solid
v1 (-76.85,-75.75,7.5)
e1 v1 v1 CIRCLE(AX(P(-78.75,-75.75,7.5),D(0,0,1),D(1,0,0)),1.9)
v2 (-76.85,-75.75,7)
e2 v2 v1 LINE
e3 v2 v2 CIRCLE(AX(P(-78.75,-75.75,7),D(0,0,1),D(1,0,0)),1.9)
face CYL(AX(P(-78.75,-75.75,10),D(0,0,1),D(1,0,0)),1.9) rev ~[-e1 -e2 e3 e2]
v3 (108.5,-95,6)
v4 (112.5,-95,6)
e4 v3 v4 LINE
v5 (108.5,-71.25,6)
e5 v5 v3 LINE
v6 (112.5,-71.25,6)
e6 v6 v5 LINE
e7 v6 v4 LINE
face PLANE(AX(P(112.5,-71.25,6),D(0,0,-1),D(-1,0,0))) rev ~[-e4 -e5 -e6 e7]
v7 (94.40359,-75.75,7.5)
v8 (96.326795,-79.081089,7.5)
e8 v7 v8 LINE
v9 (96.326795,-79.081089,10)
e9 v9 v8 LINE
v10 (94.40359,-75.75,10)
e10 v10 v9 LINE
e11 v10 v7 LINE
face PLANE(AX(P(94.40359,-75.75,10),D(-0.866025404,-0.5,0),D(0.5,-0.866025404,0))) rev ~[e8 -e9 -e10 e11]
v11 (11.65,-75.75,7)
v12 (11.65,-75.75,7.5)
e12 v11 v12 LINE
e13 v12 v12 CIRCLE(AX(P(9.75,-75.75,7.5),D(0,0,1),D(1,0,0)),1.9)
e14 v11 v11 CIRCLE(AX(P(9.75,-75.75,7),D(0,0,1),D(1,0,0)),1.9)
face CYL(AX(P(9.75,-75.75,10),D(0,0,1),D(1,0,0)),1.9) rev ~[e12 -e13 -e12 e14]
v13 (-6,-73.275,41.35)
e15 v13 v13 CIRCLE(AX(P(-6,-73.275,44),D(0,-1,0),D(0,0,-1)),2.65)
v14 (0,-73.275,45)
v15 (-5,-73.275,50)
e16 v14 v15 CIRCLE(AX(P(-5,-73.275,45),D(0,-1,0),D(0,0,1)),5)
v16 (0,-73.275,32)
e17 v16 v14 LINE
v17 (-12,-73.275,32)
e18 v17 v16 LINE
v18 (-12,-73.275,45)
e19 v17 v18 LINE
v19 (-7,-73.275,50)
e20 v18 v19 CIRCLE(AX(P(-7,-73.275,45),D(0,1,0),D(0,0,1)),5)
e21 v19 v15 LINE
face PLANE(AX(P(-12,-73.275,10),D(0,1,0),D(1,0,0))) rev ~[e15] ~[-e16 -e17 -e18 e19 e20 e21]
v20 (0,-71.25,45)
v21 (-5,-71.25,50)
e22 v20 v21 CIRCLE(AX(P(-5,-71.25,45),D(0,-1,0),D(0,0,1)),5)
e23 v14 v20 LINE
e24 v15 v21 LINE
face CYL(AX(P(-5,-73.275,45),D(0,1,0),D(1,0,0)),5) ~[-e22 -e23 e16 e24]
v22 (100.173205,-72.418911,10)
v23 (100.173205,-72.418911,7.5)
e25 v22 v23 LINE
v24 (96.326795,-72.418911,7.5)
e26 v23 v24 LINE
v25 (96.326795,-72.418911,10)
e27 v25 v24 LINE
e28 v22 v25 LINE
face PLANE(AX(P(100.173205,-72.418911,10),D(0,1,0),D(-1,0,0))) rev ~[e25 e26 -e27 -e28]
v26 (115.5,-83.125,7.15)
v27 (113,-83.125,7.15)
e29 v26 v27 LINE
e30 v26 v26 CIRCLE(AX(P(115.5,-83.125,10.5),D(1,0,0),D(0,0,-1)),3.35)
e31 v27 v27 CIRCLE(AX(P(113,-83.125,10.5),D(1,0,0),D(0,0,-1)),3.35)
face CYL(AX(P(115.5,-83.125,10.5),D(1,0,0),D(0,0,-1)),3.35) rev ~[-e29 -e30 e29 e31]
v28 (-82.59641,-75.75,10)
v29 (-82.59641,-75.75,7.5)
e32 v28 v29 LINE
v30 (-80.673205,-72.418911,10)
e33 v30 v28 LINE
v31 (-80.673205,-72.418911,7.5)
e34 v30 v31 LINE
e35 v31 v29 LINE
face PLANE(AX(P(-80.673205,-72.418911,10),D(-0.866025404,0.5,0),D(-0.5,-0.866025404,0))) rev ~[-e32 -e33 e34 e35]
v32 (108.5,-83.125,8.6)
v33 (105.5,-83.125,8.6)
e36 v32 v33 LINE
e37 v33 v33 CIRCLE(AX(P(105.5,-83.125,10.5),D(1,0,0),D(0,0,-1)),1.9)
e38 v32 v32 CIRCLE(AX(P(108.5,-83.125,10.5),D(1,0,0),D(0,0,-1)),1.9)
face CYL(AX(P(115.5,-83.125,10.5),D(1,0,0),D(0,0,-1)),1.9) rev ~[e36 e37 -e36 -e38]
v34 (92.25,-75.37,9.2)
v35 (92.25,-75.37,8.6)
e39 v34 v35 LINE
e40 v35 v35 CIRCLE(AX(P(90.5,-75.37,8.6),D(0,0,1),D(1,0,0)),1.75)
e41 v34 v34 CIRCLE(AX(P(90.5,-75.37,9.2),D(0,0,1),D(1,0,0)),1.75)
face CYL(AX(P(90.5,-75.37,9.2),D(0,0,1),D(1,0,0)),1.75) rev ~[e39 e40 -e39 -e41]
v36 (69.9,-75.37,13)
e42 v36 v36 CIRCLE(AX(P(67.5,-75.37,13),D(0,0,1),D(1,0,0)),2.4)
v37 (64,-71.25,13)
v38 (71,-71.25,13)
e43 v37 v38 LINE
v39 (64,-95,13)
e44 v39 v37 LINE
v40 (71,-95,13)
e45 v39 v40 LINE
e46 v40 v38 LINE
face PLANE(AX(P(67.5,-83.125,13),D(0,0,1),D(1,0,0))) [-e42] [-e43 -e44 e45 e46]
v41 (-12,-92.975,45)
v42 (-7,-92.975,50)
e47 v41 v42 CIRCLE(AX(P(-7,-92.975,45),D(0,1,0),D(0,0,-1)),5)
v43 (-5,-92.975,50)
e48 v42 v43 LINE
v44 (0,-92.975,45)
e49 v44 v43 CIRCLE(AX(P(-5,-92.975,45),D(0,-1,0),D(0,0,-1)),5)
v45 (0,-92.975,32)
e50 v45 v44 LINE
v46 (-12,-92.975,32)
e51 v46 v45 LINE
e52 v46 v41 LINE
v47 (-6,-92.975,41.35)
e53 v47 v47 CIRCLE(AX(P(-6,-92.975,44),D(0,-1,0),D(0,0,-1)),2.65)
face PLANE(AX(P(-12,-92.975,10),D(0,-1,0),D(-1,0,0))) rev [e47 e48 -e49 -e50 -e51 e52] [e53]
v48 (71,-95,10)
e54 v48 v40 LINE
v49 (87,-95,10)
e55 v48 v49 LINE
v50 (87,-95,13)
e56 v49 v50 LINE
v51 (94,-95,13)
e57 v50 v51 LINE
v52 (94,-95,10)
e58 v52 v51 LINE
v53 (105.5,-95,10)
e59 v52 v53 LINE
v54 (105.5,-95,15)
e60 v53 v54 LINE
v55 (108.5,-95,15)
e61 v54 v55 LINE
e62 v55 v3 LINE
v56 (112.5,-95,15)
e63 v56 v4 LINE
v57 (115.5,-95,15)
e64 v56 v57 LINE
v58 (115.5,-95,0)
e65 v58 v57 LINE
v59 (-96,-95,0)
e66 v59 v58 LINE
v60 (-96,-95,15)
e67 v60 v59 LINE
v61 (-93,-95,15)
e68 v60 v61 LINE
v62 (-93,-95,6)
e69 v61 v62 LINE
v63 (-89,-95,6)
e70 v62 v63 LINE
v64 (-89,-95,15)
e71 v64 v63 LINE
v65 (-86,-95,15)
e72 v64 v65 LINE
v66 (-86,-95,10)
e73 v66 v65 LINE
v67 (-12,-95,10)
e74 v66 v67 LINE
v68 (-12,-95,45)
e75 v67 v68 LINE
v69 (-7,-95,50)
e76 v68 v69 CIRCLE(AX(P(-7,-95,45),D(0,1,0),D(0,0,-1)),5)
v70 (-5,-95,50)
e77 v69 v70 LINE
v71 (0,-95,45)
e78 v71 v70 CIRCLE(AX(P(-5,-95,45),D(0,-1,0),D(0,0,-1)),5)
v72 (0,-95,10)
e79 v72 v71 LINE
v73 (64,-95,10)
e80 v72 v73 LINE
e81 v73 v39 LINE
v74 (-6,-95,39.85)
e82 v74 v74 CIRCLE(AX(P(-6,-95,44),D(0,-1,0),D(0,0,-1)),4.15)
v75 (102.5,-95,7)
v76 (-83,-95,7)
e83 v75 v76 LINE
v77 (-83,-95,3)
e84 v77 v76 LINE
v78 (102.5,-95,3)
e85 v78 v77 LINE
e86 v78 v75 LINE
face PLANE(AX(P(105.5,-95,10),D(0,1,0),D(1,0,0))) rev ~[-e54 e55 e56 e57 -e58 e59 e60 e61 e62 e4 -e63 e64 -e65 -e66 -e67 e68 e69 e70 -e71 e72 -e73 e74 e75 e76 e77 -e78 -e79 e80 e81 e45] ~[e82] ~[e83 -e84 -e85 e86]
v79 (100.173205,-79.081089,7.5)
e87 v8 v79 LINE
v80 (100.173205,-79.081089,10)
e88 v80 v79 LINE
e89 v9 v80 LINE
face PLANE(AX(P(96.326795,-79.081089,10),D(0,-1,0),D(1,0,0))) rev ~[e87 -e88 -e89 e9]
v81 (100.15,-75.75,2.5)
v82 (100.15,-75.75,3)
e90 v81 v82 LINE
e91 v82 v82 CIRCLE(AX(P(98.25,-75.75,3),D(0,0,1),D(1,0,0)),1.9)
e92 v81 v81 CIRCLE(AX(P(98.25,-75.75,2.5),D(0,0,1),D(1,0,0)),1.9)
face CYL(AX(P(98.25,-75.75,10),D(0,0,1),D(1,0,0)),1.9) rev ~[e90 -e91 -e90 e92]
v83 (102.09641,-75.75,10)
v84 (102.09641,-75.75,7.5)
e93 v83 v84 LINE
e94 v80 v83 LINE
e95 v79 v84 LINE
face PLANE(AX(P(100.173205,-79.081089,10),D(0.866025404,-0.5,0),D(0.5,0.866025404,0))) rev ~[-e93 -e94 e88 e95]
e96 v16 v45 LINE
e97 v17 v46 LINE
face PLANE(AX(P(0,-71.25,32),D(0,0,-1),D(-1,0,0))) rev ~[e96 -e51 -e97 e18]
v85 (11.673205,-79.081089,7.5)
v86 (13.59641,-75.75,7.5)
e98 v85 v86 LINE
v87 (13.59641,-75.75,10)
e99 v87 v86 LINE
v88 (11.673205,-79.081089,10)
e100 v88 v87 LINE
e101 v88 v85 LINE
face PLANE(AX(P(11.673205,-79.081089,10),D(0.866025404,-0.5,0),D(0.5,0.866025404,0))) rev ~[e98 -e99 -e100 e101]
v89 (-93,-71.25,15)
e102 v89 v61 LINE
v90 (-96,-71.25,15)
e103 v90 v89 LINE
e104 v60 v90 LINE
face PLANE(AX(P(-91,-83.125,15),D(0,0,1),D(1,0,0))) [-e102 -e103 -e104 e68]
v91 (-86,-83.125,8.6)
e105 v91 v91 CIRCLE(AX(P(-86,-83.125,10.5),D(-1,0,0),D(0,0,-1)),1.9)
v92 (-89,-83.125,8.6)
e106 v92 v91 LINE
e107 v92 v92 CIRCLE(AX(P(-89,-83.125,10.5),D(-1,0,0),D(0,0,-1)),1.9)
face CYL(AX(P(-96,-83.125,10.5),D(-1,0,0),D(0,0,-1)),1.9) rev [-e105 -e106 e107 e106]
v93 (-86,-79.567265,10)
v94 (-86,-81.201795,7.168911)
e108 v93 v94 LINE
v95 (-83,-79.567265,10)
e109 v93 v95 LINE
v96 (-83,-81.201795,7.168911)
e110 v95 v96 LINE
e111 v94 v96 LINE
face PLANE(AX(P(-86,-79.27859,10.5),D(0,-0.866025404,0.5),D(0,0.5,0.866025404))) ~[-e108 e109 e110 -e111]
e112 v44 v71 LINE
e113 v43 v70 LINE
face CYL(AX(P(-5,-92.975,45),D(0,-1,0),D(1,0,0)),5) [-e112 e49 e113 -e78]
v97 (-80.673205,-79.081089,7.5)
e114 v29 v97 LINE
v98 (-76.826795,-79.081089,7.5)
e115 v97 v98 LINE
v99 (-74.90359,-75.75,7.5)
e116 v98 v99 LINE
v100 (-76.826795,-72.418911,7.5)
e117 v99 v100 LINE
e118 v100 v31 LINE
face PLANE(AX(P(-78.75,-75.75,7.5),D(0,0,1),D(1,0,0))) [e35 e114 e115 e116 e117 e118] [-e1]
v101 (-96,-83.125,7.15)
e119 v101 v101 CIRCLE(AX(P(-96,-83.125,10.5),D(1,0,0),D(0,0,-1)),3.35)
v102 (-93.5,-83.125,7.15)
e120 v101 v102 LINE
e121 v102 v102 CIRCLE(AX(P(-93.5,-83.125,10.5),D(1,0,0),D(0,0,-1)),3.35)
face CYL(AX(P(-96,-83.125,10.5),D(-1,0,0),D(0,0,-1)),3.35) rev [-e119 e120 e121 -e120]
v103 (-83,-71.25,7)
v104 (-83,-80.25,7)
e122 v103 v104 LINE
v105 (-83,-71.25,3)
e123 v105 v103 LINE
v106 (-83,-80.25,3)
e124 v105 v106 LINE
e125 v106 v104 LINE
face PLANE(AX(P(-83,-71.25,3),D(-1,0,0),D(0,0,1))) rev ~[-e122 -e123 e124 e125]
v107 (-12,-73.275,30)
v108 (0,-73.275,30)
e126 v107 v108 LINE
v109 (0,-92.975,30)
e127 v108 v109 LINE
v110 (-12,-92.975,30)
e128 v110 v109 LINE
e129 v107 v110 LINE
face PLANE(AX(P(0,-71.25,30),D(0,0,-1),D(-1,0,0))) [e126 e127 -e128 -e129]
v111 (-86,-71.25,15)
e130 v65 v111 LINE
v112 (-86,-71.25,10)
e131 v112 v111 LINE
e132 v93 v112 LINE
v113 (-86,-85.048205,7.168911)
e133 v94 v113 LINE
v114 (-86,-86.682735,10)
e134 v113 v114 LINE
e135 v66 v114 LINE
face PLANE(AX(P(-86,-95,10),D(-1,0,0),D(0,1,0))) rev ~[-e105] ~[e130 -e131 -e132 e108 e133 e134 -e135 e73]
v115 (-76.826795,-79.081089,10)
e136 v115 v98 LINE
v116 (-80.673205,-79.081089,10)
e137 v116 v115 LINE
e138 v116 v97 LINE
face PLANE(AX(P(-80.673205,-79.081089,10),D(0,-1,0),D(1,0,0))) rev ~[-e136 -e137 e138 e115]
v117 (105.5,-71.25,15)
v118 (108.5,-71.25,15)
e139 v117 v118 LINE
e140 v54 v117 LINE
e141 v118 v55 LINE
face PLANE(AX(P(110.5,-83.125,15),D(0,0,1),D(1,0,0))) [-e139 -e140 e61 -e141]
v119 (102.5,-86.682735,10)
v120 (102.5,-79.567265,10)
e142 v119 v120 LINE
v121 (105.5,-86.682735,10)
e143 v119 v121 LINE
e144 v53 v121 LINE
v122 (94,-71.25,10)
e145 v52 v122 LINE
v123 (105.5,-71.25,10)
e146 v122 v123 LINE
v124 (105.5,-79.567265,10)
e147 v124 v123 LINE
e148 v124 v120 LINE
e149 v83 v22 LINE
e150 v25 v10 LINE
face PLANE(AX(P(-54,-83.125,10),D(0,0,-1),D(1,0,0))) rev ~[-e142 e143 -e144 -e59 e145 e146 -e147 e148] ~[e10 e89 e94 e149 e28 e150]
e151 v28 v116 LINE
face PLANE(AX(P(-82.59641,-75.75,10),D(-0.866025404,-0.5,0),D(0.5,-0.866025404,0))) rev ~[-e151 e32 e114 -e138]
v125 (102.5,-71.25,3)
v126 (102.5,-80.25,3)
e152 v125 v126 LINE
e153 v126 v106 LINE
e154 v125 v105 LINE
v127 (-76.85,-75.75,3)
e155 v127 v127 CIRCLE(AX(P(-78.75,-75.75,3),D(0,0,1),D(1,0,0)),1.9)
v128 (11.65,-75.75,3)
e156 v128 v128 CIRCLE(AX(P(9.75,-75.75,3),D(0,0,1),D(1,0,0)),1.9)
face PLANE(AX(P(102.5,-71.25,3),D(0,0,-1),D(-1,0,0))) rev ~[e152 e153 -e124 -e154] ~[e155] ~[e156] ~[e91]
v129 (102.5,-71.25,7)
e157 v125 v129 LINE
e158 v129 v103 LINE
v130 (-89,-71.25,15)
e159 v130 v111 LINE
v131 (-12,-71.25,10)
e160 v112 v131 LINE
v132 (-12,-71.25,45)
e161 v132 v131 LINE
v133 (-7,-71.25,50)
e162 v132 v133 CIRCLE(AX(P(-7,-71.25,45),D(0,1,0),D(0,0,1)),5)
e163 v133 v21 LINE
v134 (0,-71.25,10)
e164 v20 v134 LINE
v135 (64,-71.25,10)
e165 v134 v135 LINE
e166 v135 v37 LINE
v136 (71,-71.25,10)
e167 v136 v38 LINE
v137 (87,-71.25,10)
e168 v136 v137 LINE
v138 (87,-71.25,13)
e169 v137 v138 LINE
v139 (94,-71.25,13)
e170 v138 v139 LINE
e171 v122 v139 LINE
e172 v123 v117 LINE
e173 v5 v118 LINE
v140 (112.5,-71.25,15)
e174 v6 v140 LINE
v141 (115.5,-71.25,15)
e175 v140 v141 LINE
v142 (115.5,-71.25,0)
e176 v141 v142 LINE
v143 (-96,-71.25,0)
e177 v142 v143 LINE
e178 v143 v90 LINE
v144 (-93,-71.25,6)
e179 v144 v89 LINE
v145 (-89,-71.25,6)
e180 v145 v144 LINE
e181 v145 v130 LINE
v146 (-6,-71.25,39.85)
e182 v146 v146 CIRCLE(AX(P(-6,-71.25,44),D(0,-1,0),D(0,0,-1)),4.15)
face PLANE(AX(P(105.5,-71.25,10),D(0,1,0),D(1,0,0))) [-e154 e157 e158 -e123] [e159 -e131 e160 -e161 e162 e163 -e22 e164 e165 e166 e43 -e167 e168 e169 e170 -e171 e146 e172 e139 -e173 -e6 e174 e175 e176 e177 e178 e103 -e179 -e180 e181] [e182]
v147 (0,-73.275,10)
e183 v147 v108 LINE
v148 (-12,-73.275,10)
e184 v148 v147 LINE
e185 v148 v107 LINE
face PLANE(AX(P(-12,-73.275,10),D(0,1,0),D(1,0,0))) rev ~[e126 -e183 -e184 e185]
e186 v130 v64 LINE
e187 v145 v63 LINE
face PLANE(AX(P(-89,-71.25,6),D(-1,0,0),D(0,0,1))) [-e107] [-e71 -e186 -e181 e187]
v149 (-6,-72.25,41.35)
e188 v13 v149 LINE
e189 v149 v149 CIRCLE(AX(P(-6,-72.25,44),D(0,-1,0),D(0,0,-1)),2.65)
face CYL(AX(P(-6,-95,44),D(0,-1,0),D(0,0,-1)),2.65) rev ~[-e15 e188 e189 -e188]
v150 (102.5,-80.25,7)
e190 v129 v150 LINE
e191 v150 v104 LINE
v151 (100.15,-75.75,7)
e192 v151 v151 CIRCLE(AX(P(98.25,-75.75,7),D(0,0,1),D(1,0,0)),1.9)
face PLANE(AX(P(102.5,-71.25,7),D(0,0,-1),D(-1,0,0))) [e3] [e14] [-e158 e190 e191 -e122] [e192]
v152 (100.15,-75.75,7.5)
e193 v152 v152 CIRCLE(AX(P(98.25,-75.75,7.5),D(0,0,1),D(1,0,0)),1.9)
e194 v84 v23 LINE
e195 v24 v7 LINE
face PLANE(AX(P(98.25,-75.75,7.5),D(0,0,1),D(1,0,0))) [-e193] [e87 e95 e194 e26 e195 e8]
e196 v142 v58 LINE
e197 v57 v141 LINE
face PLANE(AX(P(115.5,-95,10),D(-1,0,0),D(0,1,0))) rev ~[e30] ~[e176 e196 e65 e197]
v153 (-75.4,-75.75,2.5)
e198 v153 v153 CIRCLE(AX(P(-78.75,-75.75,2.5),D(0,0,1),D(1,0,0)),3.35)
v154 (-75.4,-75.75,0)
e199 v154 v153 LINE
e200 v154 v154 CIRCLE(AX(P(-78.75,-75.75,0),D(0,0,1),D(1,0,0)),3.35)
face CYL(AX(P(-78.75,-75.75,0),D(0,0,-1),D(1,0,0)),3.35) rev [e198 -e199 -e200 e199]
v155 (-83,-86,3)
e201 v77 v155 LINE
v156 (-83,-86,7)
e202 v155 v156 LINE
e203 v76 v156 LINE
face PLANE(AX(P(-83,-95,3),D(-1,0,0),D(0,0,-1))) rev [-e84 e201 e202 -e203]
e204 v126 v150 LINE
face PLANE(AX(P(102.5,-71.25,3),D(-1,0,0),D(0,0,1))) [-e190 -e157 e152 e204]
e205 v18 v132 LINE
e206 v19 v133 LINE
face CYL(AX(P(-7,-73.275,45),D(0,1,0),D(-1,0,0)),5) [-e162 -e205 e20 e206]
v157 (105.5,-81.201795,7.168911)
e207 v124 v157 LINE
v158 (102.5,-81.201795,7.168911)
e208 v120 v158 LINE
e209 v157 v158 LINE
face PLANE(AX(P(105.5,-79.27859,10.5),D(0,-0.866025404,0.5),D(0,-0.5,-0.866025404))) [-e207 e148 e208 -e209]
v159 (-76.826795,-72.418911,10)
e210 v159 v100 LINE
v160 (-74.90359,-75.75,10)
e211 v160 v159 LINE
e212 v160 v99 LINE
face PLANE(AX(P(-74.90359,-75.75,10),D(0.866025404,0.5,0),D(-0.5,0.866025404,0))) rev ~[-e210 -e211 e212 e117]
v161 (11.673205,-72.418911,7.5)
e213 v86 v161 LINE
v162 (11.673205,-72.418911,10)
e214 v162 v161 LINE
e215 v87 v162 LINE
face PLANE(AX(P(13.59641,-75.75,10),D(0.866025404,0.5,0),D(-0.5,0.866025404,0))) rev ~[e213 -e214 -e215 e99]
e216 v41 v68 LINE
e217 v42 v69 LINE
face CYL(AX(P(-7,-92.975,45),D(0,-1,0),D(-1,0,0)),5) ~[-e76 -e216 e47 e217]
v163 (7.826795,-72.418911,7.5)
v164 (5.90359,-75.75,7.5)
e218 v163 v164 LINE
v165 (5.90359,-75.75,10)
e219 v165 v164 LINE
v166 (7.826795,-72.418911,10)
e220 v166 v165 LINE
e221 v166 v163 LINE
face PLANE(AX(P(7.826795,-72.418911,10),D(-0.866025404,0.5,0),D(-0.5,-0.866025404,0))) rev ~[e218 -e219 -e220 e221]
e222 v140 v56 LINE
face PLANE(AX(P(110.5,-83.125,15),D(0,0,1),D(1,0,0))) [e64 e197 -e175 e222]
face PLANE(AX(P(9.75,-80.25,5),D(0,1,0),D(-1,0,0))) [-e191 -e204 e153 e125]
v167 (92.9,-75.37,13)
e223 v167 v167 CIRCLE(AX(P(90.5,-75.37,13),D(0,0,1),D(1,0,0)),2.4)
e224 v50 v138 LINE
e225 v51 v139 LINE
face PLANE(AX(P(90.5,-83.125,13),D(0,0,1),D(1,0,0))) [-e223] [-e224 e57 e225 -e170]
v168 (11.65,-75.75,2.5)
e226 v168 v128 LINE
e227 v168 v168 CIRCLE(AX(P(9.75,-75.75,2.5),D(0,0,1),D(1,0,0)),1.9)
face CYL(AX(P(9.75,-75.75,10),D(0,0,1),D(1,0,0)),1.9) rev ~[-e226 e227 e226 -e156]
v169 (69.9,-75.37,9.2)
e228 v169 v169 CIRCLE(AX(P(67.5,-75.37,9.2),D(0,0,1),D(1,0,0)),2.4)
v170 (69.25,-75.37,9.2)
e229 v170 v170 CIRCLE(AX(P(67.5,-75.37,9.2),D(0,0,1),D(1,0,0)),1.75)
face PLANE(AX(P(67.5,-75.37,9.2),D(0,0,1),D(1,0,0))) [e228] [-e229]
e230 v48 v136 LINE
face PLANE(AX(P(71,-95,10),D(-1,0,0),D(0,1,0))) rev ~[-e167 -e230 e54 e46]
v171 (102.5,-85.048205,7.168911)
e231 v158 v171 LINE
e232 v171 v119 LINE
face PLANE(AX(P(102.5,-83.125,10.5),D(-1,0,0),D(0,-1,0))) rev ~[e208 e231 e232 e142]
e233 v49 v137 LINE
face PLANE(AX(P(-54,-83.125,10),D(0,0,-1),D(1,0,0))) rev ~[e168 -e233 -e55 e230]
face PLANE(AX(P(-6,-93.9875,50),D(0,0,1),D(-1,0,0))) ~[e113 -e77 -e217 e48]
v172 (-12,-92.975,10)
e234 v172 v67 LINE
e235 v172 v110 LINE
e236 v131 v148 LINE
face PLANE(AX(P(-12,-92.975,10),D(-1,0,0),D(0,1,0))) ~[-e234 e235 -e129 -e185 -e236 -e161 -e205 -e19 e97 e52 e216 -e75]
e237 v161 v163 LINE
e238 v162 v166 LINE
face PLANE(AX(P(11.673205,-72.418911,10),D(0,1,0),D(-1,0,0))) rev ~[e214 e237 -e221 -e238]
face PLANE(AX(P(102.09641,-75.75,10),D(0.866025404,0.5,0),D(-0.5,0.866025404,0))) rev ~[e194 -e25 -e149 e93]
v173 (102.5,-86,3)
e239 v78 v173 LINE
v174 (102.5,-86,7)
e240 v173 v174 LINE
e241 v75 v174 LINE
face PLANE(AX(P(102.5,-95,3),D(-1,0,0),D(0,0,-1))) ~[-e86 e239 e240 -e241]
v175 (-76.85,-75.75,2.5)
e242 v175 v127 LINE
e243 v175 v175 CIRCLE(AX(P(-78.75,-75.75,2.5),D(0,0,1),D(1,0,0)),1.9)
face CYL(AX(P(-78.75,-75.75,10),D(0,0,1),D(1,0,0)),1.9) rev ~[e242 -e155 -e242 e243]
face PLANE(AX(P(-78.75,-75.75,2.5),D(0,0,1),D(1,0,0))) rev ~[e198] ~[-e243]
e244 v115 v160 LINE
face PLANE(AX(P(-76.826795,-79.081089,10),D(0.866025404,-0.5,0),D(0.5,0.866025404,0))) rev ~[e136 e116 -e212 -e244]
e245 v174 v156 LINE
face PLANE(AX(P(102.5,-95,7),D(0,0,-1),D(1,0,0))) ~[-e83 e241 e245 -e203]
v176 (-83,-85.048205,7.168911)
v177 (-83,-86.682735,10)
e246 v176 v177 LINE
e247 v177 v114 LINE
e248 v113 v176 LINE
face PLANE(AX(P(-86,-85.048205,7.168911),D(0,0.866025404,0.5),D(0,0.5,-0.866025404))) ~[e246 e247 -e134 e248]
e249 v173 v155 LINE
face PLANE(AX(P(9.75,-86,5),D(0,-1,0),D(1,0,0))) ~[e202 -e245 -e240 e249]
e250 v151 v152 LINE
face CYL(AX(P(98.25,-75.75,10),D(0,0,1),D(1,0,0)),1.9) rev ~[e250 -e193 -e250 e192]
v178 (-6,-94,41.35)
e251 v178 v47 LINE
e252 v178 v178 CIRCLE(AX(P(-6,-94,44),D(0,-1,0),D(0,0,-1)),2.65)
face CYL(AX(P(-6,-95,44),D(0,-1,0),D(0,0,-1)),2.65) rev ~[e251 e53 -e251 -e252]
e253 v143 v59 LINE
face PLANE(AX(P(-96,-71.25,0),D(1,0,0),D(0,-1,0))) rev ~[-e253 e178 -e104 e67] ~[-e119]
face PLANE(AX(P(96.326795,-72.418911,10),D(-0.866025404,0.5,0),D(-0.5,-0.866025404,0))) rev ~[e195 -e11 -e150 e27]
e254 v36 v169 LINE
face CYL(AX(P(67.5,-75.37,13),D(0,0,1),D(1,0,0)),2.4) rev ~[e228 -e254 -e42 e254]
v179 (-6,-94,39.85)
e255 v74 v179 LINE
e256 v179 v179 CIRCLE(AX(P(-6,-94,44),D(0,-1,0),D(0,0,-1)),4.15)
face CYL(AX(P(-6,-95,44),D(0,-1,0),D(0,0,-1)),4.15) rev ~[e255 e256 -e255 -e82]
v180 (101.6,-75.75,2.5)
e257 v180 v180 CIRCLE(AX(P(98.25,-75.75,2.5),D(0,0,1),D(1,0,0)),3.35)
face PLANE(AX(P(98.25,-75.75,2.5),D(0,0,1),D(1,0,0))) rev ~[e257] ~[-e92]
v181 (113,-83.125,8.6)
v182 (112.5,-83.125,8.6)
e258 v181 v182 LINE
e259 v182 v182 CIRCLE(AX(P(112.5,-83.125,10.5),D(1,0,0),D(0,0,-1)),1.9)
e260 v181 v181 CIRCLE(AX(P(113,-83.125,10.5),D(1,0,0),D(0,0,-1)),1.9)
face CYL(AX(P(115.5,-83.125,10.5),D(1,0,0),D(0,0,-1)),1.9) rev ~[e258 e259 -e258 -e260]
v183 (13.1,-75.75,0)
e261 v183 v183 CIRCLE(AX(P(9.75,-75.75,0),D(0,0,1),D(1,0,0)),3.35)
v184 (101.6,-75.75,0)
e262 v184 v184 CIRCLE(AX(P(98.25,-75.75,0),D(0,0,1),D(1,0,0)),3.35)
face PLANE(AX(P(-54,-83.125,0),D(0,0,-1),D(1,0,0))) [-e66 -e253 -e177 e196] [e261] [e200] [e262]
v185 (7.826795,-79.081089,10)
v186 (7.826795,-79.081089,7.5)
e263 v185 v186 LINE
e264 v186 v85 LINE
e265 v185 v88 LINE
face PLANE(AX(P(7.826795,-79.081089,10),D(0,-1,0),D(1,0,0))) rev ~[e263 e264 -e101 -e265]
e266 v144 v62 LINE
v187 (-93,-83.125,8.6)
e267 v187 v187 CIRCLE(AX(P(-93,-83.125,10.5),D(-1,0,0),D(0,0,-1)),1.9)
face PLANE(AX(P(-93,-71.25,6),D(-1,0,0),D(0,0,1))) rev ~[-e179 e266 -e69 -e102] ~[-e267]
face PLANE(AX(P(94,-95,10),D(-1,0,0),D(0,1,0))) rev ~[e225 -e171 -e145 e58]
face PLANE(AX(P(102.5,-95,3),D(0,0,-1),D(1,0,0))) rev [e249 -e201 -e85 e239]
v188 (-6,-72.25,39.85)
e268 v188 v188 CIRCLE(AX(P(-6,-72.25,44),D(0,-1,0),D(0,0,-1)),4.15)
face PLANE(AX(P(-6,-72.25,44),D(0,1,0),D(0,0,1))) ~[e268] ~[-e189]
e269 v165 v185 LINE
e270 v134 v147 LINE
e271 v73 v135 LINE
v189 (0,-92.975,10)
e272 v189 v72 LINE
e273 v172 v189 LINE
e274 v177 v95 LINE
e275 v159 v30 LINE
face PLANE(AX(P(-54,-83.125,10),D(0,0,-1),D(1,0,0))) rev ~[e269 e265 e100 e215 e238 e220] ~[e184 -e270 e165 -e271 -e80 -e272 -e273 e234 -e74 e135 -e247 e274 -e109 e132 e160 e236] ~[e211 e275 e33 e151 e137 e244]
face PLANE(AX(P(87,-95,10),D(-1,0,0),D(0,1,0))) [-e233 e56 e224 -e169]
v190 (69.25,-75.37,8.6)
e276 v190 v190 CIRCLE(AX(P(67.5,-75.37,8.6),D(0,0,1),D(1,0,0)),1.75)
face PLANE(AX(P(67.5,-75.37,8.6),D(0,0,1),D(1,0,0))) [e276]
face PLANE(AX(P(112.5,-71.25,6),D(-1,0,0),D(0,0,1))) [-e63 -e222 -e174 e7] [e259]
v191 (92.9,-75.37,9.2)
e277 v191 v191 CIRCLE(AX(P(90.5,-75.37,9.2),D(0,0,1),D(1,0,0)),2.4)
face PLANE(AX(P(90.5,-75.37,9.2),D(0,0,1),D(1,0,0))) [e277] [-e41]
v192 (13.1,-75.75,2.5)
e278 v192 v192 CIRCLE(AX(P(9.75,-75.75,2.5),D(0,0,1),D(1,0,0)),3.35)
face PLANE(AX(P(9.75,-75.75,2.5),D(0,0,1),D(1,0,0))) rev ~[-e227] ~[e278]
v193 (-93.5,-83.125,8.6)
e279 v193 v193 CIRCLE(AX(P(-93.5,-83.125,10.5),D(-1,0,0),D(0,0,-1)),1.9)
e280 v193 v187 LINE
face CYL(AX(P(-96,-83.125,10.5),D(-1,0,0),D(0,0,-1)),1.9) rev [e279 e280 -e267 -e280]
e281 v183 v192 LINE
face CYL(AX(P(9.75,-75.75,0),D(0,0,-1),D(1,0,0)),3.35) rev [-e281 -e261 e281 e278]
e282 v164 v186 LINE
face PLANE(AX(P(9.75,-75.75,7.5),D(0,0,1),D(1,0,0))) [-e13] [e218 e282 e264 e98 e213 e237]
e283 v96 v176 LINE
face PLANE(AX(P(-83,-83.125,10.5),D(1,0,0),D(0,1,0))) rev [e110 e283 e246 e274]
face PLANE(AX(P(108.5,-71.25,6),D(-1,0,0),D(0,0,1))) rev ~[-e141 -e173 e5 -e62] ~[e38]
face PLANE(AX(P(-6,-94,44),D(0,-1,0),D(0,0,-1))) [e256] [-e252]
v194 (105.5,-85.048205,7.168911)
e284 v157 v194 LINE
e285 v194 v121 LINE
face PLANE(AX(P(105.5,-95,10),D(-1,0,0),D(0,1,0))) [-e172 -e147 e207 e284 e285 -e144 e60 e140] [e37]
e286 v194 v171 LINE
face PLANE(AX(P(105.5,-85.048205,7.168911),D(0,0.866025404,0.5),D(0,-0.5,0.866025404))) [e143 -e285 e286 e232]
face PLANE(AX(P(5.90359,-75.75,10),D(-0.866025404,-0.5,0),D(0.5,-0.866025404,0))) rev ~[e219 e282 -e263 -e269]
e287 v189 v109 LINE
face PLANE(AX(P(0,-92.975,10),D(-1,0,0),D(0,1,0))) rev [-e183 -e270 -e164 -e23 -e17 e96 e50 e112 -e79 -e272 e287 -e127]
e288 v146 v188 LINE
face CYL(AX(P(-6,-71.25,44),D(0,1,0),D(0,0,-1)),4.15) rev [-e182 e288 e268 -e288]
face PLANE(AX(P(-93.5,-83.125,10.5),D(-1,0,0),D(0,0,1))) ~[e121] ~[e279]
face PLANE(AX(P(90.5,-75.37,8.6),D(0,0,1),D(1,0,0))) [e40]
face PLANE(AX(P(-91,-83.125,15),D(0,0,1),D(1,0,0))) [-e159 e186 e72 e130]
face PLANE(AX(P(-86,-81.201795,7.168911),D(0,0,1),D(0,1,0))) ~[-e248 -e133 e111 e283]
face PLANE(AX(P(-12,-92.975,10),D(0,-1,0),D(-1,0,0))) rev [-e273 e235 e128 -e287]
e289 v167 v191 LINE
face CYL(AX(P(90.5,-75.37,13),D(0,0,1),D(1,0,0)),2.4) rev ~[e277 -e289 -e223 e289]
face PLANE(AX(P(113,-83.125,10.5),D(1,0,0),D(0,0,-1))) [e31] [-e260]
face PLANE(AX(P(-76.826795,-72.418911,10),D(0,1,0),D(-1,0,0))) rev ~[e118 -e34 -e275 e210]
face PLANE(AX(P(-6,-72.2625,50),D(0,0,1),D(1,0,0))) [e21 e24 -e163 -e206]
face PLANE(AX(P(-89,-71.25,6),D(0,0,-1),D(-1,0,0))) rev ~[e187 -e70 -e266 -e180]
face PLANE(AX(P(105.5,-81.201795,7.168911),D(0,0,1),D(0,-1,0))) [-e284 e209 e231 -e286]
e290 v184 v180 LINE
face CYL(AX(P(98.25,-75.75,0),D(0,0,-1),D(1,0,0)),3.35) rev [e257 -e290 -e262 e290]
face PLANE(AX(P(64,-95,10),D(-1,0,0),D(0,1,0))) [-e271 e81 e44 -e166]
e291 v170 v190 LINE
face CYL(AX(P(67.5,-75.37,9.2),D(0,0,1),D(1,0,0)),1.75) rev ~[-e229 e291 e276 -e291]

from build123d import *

# Parameters (mm, degrees)
SKETCH2_W            = 23.75
SKETCH2_H            = 12
BOSS_EXTRUDE1_DEPTH  = 10
SKETCH3_W            = 12
SKETCH3_H            = 2.025
BOSS_EXTRUDE2_DEPTH  = 40
FILLET1_R            = 5
FILLET1_OF_MIRROR1_R = 5
SKETCH5_R            = 2.65
CUT_EXTRUDE1_DEPTH   = 57.639760769
SKETCH6_R            = 4.15
CUT_EXTRUDE2_DEPTH   = 1
SKETCH7_W            = 84
SKETCH7_H            = 23.75
SKETCH7_W_2          = 115.5
BOSS_EXTRUDE3_DEPTH  = 10
SKETCH8_W            = 10
SKETCH8_H            = 23.75
BOSS_EXTRUDE4_DEPTH  = 5
BOSS_EXTRUDE7_REACH  = 130.079
SKETCH18_W           = 12
SKETCH18_H           = 2
SKETCH11_W           = 185.5
SKETCH11_H           = 4
CUT_EXTRUDE3_DEPTH   = 9
SKETCH12_R           = 1.9
CUT_EXTRUDE4_DEPTH   = 155.807138078
SKETCH15_R           = 3.35
CUT_EXTRUDE5_DEPTH   = 2.5
SKETCH16_R           = 1.9
CUT_EXTRUDE6_DEPTH   = 2.5
LPATTERN1_COUNT      = 3
LPATTERN1_PITCH      = 88.5
SKETCH14_W           = 7
SKETCH14_H           = 23.75
BOSS_EXTRUDE6_DEPTH  = 3
CUT_EXTRUDE7_REACH   = 130.079
SKETCH21_W           = 4
SKETCH21_H           = 9
LPATTERN2_COUNT      = 2
LPATTERN2_PITCH      = 201.5
SKETCH22_R           = 2.4
CUT_EXTRUDE8_DEPTH   = 3.8
SKETCH26_R           = 1.75
CUT_EXTRUDE12_DEPTH  = 0.6
LPATTERN3_COUNT      = 2
LPATTERN3_PITCH      = 23
SKETCH23_R           = 1.9
CUT_EXTRUDE9_DEPTH   = 10
SKETCH24_R           = 3.35
CUT_EXTRUDE10_DEPTH  = 2.5
CUT_EXTRUDE11_DEPTH  = 3


with BuildPart() as part:
    # Sketch2 → Boss-Extrude1 (new body)
    with BuildSketch(Plane(origin=(0, 0, 0), x_dir=(0, 1, 0), z_dir=(0, 0, 1))):
        with Locations((-83.125, 6)):
            Rectangle(SKETCH2_W, SKETCH2_H)
    extrude(amount=BOSS_EXTRUDE1_DEPTH)

    # Sketch3 → Boss-Extrude2 (add)
    with BuildSketch(Plane.XY.offset(10)):
        with Locations((-6, -72.2625)):
            Rectangle(SKETCH3_W, SKETCH3_H)
    boss_extrude2 = extrude(amount=BOSS_EXTRUDE2_DEPTH)

    # Fillet1
    fillet1_edges = [part.edges().sort_by_distance(p)[0] for p in [
        (0, -72.2625, 50),
        (-12, -72.2625, 50),
    ]]
    fillet(fillet1_edges, radius=FILLET1_R)

    # Mirror1: Boss-Extrude2 across plane
    add(boss_extrude2.mirror(Plane.ZX.offset(-83.125)))

    # Fillet1 of Mirror1
    fillet1_of_mirror1_edges = [part.edges().sort_by_distance(p)[0] for p in [
        (0, -93.9875, 50),
        (-12, -93.9875, 50),
    ]]
    fillet(fillet1_of_mirror1_edges, radius=FILLET1_OF_MIRROR1_R)

    # Sketch5 → Cut-Extrude1 (cut, through all)
    with BuildSketch(Plane.XZ.offset(95)):
        with Locations((-6, 44)):
            Circle(SKETCH5_R)
    extrude(amount=-CUT_EXTRUDE1_DEPTH, mode=Mode.SUBTRACT)

    # Sketch6 → Cut-Extrude2 (cut)
    with BuildSketch(Plane.XZ.offset(95)):
        with Locations((-6, 44)):
            Circle(SKETCH6_R)
    cut_extrude2 = extrude(amount=-CUT_EXTRUDE2_DEPTH, mode=Mode.SUBTRACT)

    # Mirror2: Cut-Extrude2 across plane
    add(cut_extrude2.mirror(Plane.ZX.offset(-83.125)), mode=Mode.SUBTRACT)

    # Sketch7 → Boss-Extrude3 (add)
    with BuildSketch(Plane(origin=(0, 0, 0), x_dir=(1, 0, 0), z_dir=(0, 0, -1))):
        with Locations((-54, 83.125)):
            Rectangle(SKETCH7_W, SKETCH7_H)
        with Locations((57.75, 83.125)):
            Rectangle(SKETCH7_W_2, SKETCH7_H)
    extrude(amount=-BOSS_EXTRUDE3_DEPTH)

    # Sketch8 → Boss-Extrude4 (add)
    with BuildSketch(Plane.XY.offset(10)):
        with Locations((110.5, -83.125)):
            Rectangle(SKETCH8_W, SKETCH8_H)
        with Locations((-91, -83.125)):
            Rectangle(SKETCH8_W, SKETCH8_H)
    extrude(amount=BOSS_EXTRUDE4_DEPTH)

    # Sketch18 → Boss-Extrude7 (add, up to next)
    with BuildSketch(Plane(origin=(0, -71.25, 0), x_dir=(-1, 0, 0), z_dir=(0, 1, 0)), mode=Mode.PRIVATE) as boss_extrude7_sk1:
        with Locations((6, 31)):
            Rectangle(SKETCH18_W, SKETCH18_H)
    boss_extrude7_tool1 = extrude(boss_extrude7_sk1.sketch, amount=-BOSS_EXTRUDE7_REACH, mode=Mode.PRIVATE) - part.part
    add(boss_extrude7_tool1.solids().sort_by_distance((-6, -71.25, 31))[0])

    # Sketch11 → Cut-Extrude3 (cut)
    with BuildSketch(Plane(origin=(0, -71.25, 0), x_dir=(-1, 0, 0), z_dir=(0, 1, 0))):
        with Locations((-9.75, 5)):
            Rectangle(SKETCH11_W, SKETCH11_H)
    cut_extrude3 = extrude(amount=-CUT_EXTRUDE3_DEPTH, mode=Mode.SUBTRACT)

    # Mirror3: Cut-Extrude3 across plane
    add(cut_extrude3.mirror(Plane.ZX.offset(-83.125)), mode=Mode.SUBTRACT)

    # Sketch12 → Cut-Extrude4 (cut, symmetric)
    with BuildSketch(Plane.XY.offset(10)):
        with Locations((-78.75, -75.75)):
            Circle(SKETCH12_R)
    cut_extrude4 = extrude(amount=CUT_EXTRUDE4_DEPTH, both=True, mode=Mode.SUBTRACT)

    # Sketch15 → Cut-Extrude5 (cut)
    with BuildSketch(Plane.XY):
        with Locations((-78.75, -75.75)):
            Circle(SKETCH15_R)
    cut_extrude5 = extrude(amount=CUT_EXTRUDE5_DEPTH, mode=Mode.SUBTRACT)

    # Sketch16 → Cut-Extrude6 (cut)
    with BuildSketch(Plane.XY.offset(10)):
        Polygon((-80.673205081, -72.418911087), (-82.596410162, -75.75), (-80.673205081, -79.081088913), (-76.826794919, -79.081088913), (-74.903589838, -75.75), (-76.826794919, -72.418911087), align=None)
        with Locations((-78.75, -75.75)):
            Circle(SKETCH16_R, mode=Mode.SUBTRACT)
    cut_extrude6 = extrude(amount=-CUT_EXTRUDE6_DEPTH, mode=Mode.SUBTRACT)

    # LPattern1: Cut-Extrude4, Cut-Extrude5, Cut-Extrude6 ×3
    with Locations(*[(i * LPATTERN1_PITCH, 0, 0) for i in range(1, LPATTERN1_COUNT)]):
        add(cut_extrude4, mode=Mode.SUBTRACT)
        add(cut_extrude5, mode=Mode.SUBTRACT)
        add(cut_extrude6, mode=Mode.SUBTRACT)

    # Sketch14 → Boss-Extrude6 (add)
    with BuildSketch(Plane.XY.offset(10)):
        with Locations((90.5, -83.125)):
            Rectangle(SKETCH14_W, SKETCH14_H)
        with Locations((67.5, -83.125)):
            Rectangle(SKETCH14_W, SKETCH14_H)
    extrude(amount=BOSS_EXTRUDE6_DEPTH)

    # Sketch21 → Cut-Extrude7 (cut, up to next)
    with BuildSketch(Plane(origin=(0, -71.25, 0), x_dir=(-1, 0, 0), z_dir=(0, 1, 0)), mode=Mode.PRIVATE) as cut_extrude7_sk1:
        with Locations((-110.5, 10.5)):
            Rectangle(SKETCH21_W, SKETCH21_H)
    cut_extrude7_tool1 = extrude(cut_extrude7_sk1.sketch, amount=-CUT_EXTRUDE7_REACH, mode=Mode.PRIVATE) & part.part
    cut_extrude7 = cut_extrude7_tool1.solids().sort_by_distance((110.5, -71.25, 10.5))[0]
    add(cut_extrude7, mode=Mode.SUBTRACT)

    # LPattern2: Cut-Extrude7 ×2
    with Locations(*[(-i * LPATTERN2_PITCH, 0, 0) for i in range(1, LPATTERN2_COUNT)]):
        add(cut_extrude7, mode=Mode.SUBTRACT)

    # Sketch22 → Cut-Extrude8 (cut)
    with BuildSketch(Plane.XY.offset(13)):
        with Locations((90.5, -75.37)):
            Circle(SKETCH22_R)
    cut_extrude8 = extrude(amount=-CUT_EXTRUDE8_DEPTH, mode=Mode.SUBTRACT)

    # Sketch26 → Cut-Extrude12 (cut)
    with BuildSketch(Plane.XY.offset(9.2)):
        with Locations((90.5, -75.37)):
            Circle(SKETCH26_R)
    cut_extrude12 = extrude(amount=-CUT_EXTRUDE12_DEPTH, mode=Mode.SUBTRACT)

    # LPattern3: Cut-Extrude8, Cut-Extrude12 ×2
    with Locations(*[(-i * LPATTERN3_PITCH, 0, 0) for i in range(1, LPATTERN3_COUNT)]):
        add(cut_extrude8, mode=Mode.SUBTRACT)
        add(cut_extrude12, mode=Mode.SUBTRACT)

    # Sketch23 → Cut-Extrude9 (cut)
    with BuildSketch(Plane.YZ.offset(115.5)):
        with Locations((-83.125, 10.5)):
            Circle(SKETCH23_R)
    cut_extrude9 = extrude(amount=-CUT_EXTRUDE9_DEPTH, mode=Mode.SUBTRACT)

    # Sketch24 → Cut-Extrude10 (cut)
    with BuildSketch(Plane.YZ.offset(115.5)):
        with Locations((-83.125, 10.5)):
            Circle(SKETCH24_R)
    cut_extrude10 = extrude(amount=-CUT_EXTRUDE10_DEPTH, mode=Mode.SUBTRACT)

    # Sketch25 → Cut-Extrude11 (cut)
    with BuildSketch(Plane(origin=(105.5, 0, 0), x_dir=(0, -1, 0), z_dir=(-1, 0, 0))):
        Polygon((81.201794919, 13.831088913), (79.278589838, 10.5), (81.201794919, 7.168911087), (85.048205081, 7.168911087), (86.971410162, 10.5), (85.048205081, 13.831088913), align=None)
    cut_extrude11 = extrude(amount=CUT_EXTRUDE11_DEPTH, mode=Mode.SUBTRACT)

    # Mirror4: Cut-Extrude9, Cut-Extrude10, Cut-Extrude11 across plane
    add(cut_extrude9.mirror(Plane(origin=(9.75, 0, 0), x_dir=(0, 0, 1), z_dir=(1, 0, 0))), mode=Mode.SUBTRACT)
    add(cut_extrude10.mirror(Plane(origin=(9.75, 0, 0), x_dir=(0, 0, 1), z_dir=(1, 0, 0))), mode=Mode.SUBTRACT)
    add(cut_extrude11.mirror(Plane(origin=(9.75, 0, 0), x_dir=(0, 0, 1), z_dir=(1, 0, 0))), mode=Mode.SUBTRACT)


solid = part.part
